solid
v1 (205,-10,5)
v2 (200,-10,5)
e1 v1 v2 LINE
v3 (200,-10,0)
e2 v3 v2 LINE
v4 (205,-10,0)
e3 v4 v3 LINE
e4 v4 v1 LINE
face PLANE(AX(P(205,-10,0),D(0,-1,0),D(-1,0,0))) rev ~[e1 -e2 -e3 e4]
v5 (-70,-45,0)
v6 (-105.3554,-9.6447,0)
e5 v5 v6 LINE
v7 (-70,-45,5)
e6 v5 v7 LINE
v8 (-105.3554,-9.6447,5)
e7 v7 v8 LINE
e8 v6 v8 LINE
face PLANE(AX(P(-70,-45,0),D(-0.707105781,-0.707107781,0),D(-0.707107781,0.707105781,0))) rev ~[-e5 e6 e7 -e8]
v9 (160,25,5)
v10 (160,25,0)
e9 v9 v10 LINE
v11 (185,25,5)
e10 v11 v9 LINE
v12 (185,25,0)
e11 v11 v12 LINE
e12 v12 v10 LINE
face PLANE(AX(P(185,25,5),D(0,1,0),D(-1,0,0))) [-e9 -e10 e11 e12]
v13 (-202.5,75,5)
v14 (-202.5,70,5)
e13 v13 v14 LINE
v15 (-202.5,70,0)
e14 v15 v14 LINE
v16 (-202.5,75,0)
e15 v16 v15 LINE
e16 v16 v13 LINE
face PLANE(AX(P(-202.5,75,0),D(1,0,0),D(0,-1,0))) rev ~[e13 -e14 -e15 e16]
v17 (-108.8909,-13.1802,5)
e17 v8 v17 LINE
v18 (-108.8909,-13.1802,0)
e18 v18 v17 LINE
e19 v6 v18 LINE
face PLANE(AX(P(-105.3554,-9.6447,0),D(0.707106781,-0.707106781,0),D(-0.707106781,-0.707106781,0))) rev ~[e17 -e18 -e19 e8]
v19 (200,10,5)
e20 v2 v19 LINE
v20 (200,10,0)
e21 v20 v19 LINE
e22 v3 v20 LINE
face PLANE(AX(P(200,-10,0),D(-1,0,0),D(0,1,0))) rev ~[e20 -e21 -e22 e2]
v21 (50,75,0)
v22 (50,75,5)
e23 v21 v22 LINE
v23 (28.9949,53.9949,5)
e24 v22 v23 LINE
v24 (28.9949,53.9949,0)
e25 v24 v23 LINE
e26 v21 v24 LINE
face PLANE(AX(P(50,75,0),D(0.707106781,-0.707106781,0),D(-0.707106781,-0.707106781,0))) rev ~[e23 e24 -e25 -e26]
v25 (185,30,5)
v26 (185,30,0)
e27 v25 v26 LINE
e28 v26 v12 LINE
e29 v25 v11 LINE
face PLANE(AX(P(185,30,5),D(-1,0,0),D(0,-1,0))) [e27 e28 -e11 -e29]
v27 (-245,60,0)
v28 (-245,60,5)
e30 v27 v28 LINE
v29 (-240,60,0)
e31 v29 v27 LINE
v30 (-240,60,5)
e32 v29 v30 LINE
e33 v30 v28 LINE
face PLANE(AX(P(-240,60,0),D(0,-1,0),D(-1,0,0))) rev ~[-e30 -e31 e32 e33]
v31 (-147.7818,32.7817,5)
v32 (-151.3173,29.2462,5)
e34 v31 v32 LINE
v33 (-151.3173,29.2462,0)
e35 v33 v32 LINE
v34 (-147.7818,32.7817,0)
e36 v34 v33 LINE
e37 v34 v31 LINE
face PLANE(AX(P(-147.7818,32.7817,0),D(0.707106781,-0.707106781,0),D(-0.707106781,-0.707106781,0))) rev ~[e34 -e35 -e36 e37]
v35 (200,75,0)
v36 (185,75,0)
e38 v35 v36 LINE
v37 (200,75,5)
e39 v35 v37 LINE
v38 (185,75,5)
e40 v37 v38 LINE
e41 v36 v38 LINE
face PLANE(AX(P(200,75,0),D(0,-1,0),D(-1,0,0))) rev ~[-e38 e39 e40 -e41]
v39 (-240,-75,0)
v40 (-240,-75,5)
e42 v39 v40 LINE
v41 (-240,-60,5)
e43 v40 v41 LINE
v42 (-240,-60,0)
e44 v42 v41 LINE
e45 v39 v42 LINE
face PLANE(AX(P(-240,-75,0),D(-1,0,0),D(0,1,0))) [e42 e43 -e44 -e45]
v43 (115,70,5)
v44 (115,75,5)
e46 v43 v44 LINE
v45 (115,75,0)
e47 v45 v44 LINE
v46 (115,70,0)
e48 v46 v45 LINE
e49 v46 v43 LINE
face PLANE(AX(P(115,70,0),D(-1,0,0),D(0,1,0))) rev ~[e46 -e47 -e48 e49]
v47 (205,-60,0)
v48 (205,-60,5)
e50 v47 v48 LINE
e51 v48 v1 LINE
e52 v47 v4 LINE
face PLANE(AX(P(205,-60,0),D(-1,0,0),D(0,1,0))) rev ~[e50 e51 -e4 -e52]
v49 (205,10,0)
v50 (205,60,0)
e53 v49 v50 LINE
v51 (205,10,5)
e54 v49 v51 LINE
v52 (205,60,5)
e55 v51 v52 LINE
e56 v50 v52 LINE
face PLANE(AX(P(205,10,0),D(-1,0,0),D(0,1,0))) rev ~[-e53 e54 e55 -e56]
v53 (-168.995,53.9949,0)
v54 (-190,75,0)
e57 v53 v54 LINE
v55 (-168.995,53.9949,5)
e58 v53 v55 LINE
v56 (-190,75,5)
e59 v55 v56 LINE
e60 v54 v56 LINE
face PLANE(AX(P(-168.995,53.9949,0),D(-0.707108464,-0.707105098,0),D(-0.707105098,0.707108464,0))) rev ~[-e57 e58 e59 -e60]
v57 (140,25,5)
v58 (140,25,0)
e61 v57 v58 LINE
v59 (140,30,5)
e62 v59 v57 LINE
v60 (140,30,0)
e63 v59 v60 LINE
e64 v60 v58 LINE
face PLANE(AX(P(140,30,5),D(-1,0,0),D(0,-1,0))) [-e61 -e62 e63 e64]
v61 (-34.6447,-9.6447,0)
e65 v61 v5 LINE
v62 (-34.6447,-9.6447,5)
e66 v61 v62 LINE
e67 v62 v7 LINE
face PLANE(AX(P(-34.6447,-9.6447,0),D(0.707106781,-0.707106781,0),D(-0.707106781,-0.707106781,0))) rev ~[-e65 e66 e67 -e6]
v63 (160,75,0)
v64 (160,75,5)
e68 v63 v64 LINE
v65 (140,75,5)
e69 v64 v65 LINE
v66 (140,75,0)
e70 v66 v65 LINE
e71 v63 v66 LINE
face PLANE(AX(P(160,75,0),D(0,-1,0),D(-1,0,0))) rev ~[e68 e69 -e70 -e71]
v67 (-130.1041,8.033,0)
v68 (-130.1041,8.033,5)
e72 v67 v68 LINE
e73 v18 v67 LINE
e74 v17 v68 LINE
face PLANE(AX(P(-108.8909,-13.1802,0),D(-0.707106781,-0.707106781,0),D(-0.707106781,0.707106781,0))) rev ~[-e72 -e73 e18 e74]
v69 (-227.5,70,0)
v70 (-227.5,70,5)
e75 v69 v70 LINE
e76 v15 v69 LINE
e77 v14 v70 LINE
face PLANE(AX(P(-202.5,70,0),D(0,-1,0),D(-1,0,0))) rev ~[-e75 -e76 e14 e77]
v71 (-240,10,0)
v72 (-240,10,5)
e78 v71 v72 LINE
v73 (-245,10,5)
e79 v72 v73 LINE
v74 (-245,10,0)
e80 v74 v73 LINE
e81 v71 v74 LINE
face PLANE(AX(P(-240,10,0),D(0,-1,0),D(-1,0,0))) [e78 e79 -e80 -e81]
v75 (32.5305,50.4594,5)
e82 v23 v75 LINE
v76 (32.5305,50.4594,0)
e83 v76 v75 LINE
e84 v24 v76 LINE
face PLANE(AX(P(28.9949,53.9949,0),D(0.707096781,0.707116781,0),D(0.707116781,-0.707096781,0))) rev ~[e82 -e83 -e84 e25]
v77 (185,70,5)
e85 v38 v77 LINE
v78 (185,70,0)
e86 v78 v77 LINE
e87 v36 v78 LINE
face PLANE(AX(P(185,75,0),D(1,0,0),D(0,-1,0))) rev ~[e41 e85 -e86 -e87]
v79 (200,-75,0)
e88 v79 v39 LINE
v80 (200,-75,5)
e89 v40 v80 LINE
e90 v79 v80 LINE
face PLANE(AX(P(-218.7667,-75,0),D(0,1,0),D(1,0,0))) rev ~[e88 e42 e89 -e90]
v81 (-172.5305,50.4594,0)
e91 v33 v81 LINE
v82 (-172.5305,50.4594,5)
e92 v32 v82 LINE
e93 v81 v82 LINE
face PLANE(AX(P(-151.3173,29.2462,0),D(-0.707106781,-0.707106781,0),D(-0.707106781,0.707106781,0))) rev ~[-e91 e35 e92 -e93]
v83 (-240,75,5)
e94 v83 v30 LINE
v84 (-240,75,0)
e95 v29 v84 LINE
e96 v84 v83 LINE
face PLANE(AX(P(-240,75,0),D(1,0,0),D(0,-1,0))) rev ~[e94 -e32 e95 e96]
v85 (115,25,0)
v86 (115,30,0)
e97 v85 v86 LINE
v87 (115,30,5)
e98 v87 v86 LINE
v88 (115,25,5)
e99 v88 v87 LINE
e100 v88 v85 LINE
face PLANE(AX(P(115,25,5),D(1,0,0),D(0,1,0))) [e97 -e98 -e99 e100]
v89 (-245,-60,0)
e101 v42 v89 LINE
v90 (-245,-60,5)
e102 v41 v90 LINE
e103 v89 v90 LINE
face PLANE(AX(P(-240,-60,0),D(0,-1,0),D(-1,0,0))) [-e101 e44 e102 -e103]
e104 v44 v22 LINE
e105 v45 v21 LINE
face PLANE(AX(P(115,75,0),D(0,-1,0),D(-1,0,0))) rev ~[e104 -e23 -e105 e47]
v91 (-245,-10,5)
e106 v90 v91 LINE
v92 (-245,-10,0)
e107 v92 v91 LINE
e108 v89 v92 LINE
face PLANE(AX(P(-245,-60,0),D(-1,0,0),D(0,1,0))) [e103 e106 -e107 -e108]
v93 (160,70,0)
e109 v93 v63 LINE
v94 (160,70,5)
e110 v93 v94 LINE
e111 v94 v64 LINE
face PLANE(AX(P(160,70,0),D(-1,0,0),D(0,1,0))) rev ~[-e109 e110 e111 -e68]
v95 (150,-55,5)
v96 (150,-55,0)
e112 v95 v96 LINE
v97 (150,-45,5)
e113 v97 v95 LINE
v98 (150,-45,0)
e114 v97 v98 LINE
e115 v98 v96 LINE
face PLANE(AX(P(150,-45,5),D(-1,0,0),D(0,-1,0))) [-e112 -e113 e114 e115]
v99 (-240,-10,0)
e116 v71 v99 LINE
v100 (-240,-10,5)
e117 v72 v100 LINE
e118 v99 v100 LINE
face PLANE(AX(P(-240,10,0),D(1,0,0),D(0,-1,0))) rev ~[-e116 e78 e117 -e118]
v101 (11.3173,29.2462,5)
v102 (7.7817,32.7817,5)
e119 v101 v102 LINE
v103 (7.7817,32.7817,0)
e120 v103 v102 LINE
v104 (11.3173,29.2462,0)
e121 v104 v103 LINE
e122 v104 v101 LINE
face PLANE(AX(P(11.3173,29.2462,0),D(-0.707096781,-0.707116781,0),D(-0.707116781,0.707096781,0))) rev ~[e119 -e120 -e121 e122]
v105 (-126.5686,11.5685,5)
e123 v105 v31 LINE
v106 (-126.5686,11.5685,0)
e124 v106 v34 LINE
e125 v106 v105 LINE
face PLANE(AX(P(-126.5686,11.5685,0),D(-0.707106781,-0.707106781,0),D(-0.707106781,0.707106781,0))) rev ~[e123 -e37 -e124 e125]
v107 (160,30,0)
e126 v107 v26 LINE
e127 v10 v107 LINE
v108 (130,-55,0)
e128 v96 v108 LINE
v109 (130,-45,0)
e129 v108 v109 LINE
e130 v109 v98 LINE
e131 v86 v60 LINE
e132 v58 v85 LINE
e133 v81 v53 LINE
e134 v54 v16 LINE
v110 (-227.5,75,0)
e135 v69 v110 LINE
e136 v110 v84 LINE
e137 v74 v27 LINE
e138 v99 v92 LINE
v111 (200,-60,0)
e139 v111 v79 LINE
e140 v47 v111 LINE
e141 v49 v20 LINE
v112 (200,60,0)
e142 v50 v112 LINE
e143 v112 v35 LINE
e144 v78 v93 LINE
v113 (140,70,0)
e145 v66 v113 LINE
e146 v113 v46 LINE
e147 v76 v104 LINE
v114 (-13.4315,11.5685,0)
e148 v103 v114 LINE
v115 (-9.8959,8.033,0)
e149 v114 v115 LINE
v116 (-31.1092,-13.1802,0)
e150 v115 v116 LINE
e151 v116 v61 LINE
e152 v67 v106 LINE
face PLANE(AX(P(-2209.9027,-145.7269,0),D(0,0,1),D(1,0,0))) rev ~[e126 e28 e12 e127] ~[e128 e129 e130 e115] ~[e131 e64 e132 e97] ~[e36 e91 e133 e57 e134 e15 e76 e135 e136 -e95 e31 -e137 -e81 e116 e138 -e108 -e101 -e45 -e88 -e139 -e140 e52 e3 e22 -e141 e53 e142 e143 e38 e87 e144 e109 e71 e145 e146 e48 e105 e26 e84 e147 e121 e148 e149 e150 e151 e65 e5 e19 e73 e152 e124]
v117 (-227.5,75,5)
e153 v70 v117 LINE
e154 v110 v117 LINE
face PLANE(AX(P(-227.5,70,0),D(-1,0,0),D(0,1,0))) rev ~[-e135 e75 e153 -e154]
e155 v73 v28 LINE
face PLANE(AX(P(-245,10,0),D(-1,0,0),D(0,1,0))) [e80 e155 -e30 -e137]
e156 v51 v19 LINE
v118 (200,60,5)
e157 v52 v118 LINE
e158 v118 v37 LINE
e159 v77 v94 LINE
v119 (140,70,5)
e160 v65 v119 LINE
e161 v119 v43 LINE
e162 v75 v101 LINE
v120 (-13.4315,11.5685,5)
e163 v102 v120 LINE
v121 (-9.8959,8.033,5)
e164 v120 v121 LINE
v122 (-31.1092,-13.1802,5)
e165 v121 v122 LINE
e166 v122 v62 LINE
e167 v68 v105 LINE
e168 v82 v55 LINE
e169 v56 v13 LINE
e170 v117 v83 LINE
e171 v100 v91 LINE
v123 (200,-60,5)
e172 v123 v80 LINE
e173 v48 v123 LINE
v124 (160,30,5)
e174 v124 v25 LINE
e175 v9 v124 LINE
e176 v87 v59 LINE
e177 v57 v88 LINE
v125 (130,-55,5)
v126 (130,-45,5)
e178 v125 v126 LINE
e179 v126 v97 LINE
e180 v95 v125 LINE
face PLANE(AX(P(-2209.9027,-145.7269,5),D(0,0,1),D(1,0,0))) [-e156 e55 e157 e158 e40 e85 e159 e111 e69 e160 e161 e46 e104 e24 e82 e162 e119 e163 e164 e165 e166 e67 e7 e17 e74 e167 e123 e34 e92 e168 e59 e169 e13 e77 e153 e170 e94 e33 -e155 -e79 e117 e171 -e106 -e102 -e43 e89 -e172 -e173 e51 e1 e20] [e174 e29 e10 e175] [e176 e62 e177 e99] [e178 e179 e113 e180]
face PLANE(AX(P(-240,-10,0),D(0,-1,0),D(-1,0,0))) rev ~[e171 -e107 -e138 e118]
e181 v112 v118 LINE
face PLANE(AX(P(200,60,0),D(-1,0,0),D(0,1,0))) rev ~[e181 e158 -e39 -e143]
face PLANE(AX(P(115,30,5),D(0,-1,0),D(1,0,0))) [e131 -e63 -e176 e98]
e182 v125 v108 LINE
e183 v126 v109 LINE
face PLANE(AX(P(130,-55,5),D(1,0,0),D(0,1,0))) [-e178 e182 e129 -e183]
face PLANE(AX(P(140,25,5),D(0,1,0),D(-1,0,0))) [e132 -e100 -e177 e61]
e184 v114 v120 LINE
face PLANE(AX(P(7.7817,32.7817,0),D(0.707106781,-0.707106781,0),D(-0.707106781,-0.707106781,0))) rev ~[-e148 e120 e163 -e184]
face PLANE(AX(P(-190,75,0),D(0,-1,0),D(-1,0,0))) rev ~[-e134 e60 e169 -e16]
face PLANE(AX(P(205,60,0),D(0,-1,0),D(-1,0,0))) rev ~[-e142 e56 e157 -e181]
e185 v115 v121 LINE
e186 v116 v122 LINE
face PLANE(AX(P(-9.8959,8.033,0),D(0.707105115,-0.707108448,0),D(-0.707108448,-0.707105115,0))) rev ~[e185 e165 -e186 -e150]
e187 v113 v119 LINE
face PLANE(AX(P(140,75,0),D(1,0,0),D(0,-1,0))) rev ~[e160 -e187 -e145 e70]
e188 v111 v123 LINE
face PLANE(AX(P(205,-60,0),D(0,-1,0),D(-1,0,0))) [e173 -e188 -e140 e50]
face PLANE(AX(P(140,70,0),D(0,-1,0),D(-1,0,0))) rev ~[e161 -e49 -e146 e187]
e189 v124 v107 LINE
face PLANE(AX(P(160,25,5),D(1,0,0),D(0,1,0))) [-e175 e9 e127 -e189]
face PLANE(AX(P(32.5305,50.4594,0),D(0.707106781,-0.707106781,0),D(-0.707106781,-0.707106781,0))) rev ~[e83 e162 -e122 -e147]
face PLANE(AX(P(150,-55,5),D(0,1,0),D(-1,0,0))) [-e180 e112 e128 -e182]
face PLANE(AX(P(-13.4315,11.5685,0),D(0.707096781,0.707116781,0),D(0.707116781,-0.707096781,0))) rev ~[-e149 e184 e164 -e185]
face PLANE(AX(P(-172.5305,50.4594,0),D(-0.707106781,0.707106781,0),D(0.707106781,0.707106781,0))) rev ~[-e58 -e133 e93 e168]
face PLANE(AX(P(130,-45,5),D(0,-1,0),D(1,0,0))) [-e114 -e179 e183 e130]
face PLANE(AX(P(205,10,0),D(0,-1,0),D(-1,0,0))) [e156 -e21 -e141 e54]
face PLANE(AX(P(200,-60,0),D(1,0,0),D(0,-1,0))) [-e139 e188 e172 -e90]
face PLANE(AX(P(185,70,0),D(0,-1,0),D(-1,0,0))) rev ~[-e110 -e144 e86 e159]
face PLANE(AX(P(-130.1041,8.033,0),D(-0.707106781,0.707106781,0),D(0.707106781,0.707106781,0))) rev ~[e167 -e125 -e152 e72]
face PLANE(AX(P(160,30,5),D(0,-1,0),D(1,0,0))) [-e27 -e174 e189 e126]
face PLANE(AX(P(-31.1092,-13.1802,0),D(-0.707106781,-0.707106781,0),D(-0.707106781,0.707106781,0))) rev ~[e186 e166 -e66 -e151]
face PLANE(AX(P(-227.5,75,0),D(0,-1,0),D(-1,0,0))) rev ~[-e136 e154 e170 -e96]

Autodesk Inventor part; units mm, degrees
ref_plane "YZ Plane" through (0, 0, 0) normal (1, 0, 0) x (0, 1, 0)
ref_plane "XZ Plane" through (0, 0, 0) normal (0, 1, 0) x (-1, 0, 0)
ref_plane "XY Plane" through (0, 0, 0) normal (0, 0, 1) x (1, 0, 0)
ref_plane "Work Plane1" through (-2209.9027, -145.7269, 0) normal (0, 0, 1) x (1, 0, 0)
sketch "Sketch1" plane through (-2209.9027, -145.7269, 0) normal (0, 0, 1) x (1, 0, 0)
  line L0 (1984.9027, 125.3224) -> (1984.9027, 70.7269) projected
  line L1 (1984.9027, 70.7269) -> (2394.9027, 70.7269) projected
  line L2 (2394.9027, 70.7269) -> (2394.9027, 125.3224) projected
  line L3 (2394.9027, 125.3224) -> (2409.9027, 125.3224) projected
  line L4 (2409.9027, 125.3224) -> (2409.9027, 220.7269) projected
  line L5 (2409.9027, 220.7269) -> (2394.9027, 220.7269) projected
  line L6 (1969.9027, 220.7269) -> (1969.9027, 125.3224) projected
  line L7 (1969.9027, 125.3224) -> (1984.9027, 125.3224) projected
  line L8 (1969.9027, 155.7269) -> (1969.9027, 205.7269) projected
  line L9 (1969.9027, 205.7269) -> (1964.9027, 205.7269) projected
  line L10 (1964.9027, 155.7269) -> (1964.9027, 205.7269) projected
  line L11 (1969.9027, 155.7269) -> (1964.9027, 155.7269) projected
  line L12 (1969.9027, 85.7269) -> (1969.9027, 135.7269) projected
  line L13 (1969.9027, 135.7269) -> (1964.9027, 135.7269) projected
  line L14 (1964.9027, 85.7269) -> (1964.9027, 135.7269) projected
  line L15 (1969.9027, 85.7269) -> (1964.9027, 85.7269) projected
  line L16 (1964.9027, 155.7269) -> (1969.9027, 155.7269)
  line L17 (1969.9027, 155.7269) -> (1969.9027, 135.7269)
  line L18 (1969.9027, 135.7269) -> (1964.9027, 135.7269)
  line L19 (1964.9027, 135.7269) -> (1964.9027, 155.7269)
  line L20 (1991.136, 206.6179) -> (1964.9027, 206.6179)
  line L21 (1964.9027, 206.6179) -> (1964.9027, 205.7269)
  line L22 (1964.9027, 205.7269) -> (1991.136, 205.7269)
  line L23 (1991.136, 205.7269) -> (1991.136, 206.6179)
  line L24 (1964.9027, 85.7269) -> (1991.136, 85.7269)
  line L25 (1991.136, 85.7269) -> (1991.136, 70.7269)
  line L26 (1991.136, 70.7269) -> (1964.9027, 70.7269)
  line L27 (1964.9027, 70.7269) -> (1964.9027, 85.7269)
  line L28 (1984.9027, 70.7269) -> (1969.9027, 70.7269)
  line L29 (1969.9027, 70.7269) -> (1969.9027, 125.3224)
  line L30 (1969.9027, 125.3224) -> (1984.9027, 125.3224)
  line L31 (1984.9027, 125.3224) -> (1984.9027, 70.7269)
  line L32 (2414.9027, 155.7269) -> (2414.9027, 205.7269) projected
  line L33 (2414.9027, 205.7269) -> (2409.9027, 205.7269) projected
  line L34 (2409.9027, 155.7269) -> (2409.9027, 205.7269) projected
  line L35 (2414.9027, 155.7269) -> (2409.9027, 155.7269) projected
  line L36 (2414.9027, 85.7269) -> (2414.9027, 135.7269) projected
  line L37 (2414.9027, 135.7269) -> (2409.9027, 135.7269) projected
  line L38 (2409.9027, 85.7269) -> (2409.9027, 135.7269) projected
  line L39 (2414.9027, 85.7269) -> (2409.9027, 85.7269) projected
  line L40 (2409.9027, 70.7269) -> (2394.9027, 70.7269)
  line L41 (2394.9027, 70.7269) -> (2394.9027, 125.3224)
  line L42 (2394.9027, 125.3224) -> (2409.9027, 125.3224)
  line L43 (2409.9027, 125.3224) -> (2409.9027, 70.7269)
  line L44 (2259.9027, 220.7269) -> (2238.8976, 199.7218) projected
  line L45 (2139.9027, 100.7269) -> (2104.5473, 136.0822) projected
  line L46 (2019.9027, 220.7269) -> (2007.4027, 220.7269) projected
  line L47 (2178.7935, 132.5467) -> (2175.258, 136.0822) projected
  line L48 (2104.5473, 136.0822) -> (2101.0118, 132.5467) projected
  line L49 (2101.0118, 132.5467) -> (2079.7986, 153.7599) projected
  line L50 (2079.7986, 153.7599) -> (2083.3341, 157.2954) projected
  line L51 (2083.3341, 157.2954) -> (2062.1209, 178.5086) projected
  line L52 (2062.1209, 178.5086) -> (2058.5854, 174.9731) projected
  line L53 (2058.5854, 174.9731) -> (2037.3722, 196.1863) projected
  line L54 (2037.3722, 196.1863) -> (2040.9077, 199.7218) projected
  line L55 (2238.8976, 199.7218) -> (2242.4332, 196.1863) projected
  line L56 (2242.4332, 196.1863) -> (2221.22, 174.9731) projected
  line L57 (2221.22, 174.9731) -> (2217.6844, 178.5086) projected
  line L58 (2217.6844, 178.5086) -> (2196.4712, 157.2954) projected
  line L59 (2196.4712, 157.2954) -> (2200.0068, 153.7599) projected
  line L60 (2200.0068, 153.7599) -> (2178.7935, 132.5467) projected
  line L61 (2369.9027, 215.7269) -> (2369.9027, 220.7269) projected
  line L62 (2369.9027, 220.7269) -> (2349.9027, 220.7269) projected
  line L63 (2349.9027, 220.7269) -> (2349.9027, 215.7269) projected
  line L64 (2349.9027, 215.7269) -> (2324.9027, 215.7269) projected
  line L65 (2324.9027, 215.7269) -> (2324.9027, 220.7269) projected
  line L66 (2007.4027, 220.7269) -> (2007.4027, 215.7269) projected
  line L67 (2007.4027, 215.7269) -> (1982.4027, 215.7269) projected
  line L68 (1982.4027, 215.7269) -> (1982.4027, 220.7269) projected
  line L69 (2394.9027, 220.7269) -> (2394.9027, 215.7269) projected
  line L70 (2394.9027, 215.7269) -> (2369.9027, 215.7269) projected
  line L71 (2324.9027, 220.7269) -> (2259.9027, 220.7269) projected
  line L72 (2175.258, 136.0822) -> (2139.9027, 100.7269) projected
  line L73 (2040.9077, 199.7218) -> (2019.9027, 220.7269) projected
  line L74 (1982.4027, 220.7269) -> (1969.9027, 220.7269) projected
  point P0 (2209.9027, 145.7269)
  point P1 (1991.136, 21.6179)
  point P2 (1991.136, 6.6179)
  point P3 (1969.9027, 85.7269)
  point P4 (820.3787, 21.6179)
  point P5 (1320.3787, 21.6179)
  point P6 (820.3787, 20.4045)
  point P7 (1984.9027, 70.7269)
  point P8 (1305.3787, -34.1911)
  point P9 (820.3787, 21.6179)
  point P10 (2409.9027, 125.3224)
  point P11 (2394.9027, 70.7269)
  point P12 (1969.9027, 206.6179)
extrude "Extrusion1" add sketch "Sketch1" along normal blind 5 contours L7 L6 L22 L23 L20 L74 L68 L67 L66 L46 L73 L54 L53 L52 L51 L50 L49 L48 L45 L72 L47 L60 L59 L58 L57 L56 L55 L44 L71 L65 L64 L63 L62 L61 L70 L69 L5 L4 L3 L2 L1 L25 L24 L0 | L0 L24 L12 L7 | L24 L25 L1 L0 | L0 L26 L29 L24 | L12 L15 L14 L13 L6 | L11 L10 L9 L6 | L2 L3 L38 L43 L40 | L6 L20 L23 L22 | L4 L37 L36 L39 L38 | L4 L33 L32 L35
sketch "Sketch3" plane through (-2209.9027, -145.7269, 5) normal (0, 0, 1) x (1, 0, 0)
  point P0 (2209.9027, 145.7269)
sketch "Sketch4" plane through (-2209.9027, -145.7269, 5) normal (0, 0, 1) x (1, 0, 0)
  line L0 (2324.9027, 175.7269) -> (2349.9027, 175.7269)
  line L1 (2349.9027, 175.7269) -> (2349.9027, 170.7269)
  line L2 (2349.9027, 170.7269) -> (2324.9027, 170.7269)
  line L3 (2324.9027, 170.7269) -> (2324.9027, 175.7269)
  line L4 (1969.9027, 220.7269) -> (1969.9027, 205.7269) projected
  line L5 (1969.9027, 155.7269) -> (1969.9027, 135.7269) projected
  line L6 (1969.9027, 135.7269) -> (1964.9027, 135.7269) projected
  line L7 (1964.9027, 135.7269) -> (1964.9027, 85.7269) projected
  line L8 (1969.9027, 70.7269) -> (2409.9027, 70.7269) projected
  line L9 (2409.9027, 85.7269) -> (2414.9027, 85.7269) projected
  line L10 (2414.9027, 85.7269) -> (2414.9027, 135.7269) projected
  line L11 (2414.9027, 135.7269) -> (2409.9027, 135.7269) projected
  line L12 (2409.9027, 135.7269) -> (2409.9027, 155.7269) projected
  line L13 (2409.9027, 155.7269) -> (2414.9027, 155.7269) projected
  line L14 (2414.9027, 155.7269) -> (2414.9027, 205.7269) projected
  line L15 (2414.9027, 205.7269) -> (2409.9027, 205.7269) projected
  line L16 (2409.9027, 205.7269) -> (2409.9027, 220.7269) projected
  line L17 (2409.9027, 220.7269) -> (2394.9027, 220.7269) projected
  line L18 (2369.9027, 175.7269) -> (2394.9027, 175.7269)
  line L19 (2394.9027, 175.7269) -> (2394.9027, 170.7269)
  line L20 (2394.9027, 170.7269) -> (2369.9027, 170.7269)
  line L21 (2369.9027, 170.7269) -> (2369.9027, 175.7269)
  line L22 (2259.9027, 220.7269) -> (2238.8976, 199.7218) projected
  line L23 (2139.9027, 100.7269) -> (2104.5473, 136.0822) projected
  line L24 (2019.9027, 220.7269) -> (2007.4027, 220.7269) projected
  line L25 (1964.9027, 85.7269) -> (1969.9027, 85.7269) projected
  line L26 (2409.9027, 70.7269) -> (2409.9027, 85.7269) projected
  line L27 (1969.9027, 85.7269) -> (1969.9027, 70.7269) projected
  line L28 (1964.9027, 205.7269) -> (1964.9027, 155.7269) projected
  line L29 (1964.9027, 155.7269) -> (1969.9027, 155.7269) projected
  line L30 (2238.8976, 199.7218) -> (2242.4332, 196.1863) projected
  line L31 (2242.4332, 196.1863) -> (2221.22, 174.9731) projected
  line L32 (2221.22, 174.9731) -> (2217.6844, 178.5086) projected
  line L33 (2217.6844, 178.5086) -> (2196.4712, 157.2954) projected
  line L34 (2196.4712, 157.2954) -> (2200.0068, 153.7599) projected
  line L35 (2200.0068, 153.7599) -> (2178.7935, 132.5467) projected
  line L36 (2178.7935, 132.5467) -> (2175.258, 136.0822) projected
  line L37 (2104.5473, 136.0822) -> (2101.0118, 132.5467) projected
  line L38 (2101.0118, 132.5467) -> (2079.7986, 153.7599) projected
  line L39 (2079.7986, 153.7599) -> (2083.3341, 157.2954) projected
  line L40 (2083.3341, 157.2954) -> (2062.1209, 178.5086) projected
  line L41 (2062.1209, 178.5086) -> (2058.5854, 174.9731) projected
  line L42 (2058.5854, 174.9731) -> (2037.3722, 196.1863) projected
  line L43 (2037.3722, 196.1863) -> (2040.9077, 199.7218) projected
  line L44 (2394.9027, 220.7269) -> (2394.9027, 215.7269) projected
  line L45 (2394.9027, 215.7269) -> (2369.9027, 215.7269) projected
  line L46 (2369.9027, 215.7269) -> (2369.9027, 220.7269) projected
  line L47 (2369.9027, 220.7269) -> (2349.9027, 220.7269) projected
  line L48 (2349.9027, 220.7269) -> (2349.9027, 215.7269) projected
  line L49 (2349.9027, 215.7269) -> (2324.9027, 215.7269) projected
  line L50 (2324.9027, 215.7269) -> (2324.9027, 220.7269) projected
  line L51 (2007.4027, 220.7269) -> (2007.4027, 215.7269) projected
  line L52 (2007.4027, 215.7269) -> (1982.4027, 215.7269) projected
  line L53 (1982.4027, 215.7269) -> (1982.4027, 220.7269) projected
  line L54 (2324.9027, 220.7269) -> (2259.9027, 220.7269) projected
  line L55 (2175.258, 136.0822) -> (2139.9027, 100.7269) projected
  line L56 (2040.9077, 199.7218) -> (2019.9027, 220.7269) projected
  line L57 (1982.4027, 220.7269) -> (1969.9027, 220.7269) projected
  line L58 (1969.9027, 205.7269) -> (1964.9027, 205.7269) projected
  point P0 (2209.9027, 145.7269)
  dimension "d16" = 25
  dimension "d17" = 5
  dimension "d18" = 100
  dimension "d19" = 25
  dimension "d20" = 5
  dimension "d22" = 15
  dimension "d25" = 20
extrude "Extrusion3" cut sketch "Sketch4" against normal blind 5 contours L0 L1 L2 L3 | L18 L19 L20 L21
sketch "Sketch5" plane through (-2209.9027, -145.7269, 5) normal (0, 0, 1) x (1, 0, 0)
  point P0 (2209.9027, 145.7269)
sketch "Sketch6" plane through (-2209.9027, -145.7269, 5) normal (0, 0, 1) x (1, 0, 0)
  line L0 (2394.9027, 175.7269) -> (2394.9027, 170.7269) projected
  line L1 (2394.9027, 170.7269) -> (2369.9027, 170.7269) projected
  line L2 (2369.9027, 170.7269) -> (2369.9027, 175.7269) projected
  line L3 (2369.9027, 175.7269) -> (2394.9027, 175.7269) projected
  line L4 (2349.9027, 175.7269) -> (2349.9027, 170.7269) projected
  line L5 (2349.9027, 170.7269) -> (2324.9027, 170.7269) projected
  line L6 (2324.9027, 170.7269) -> (2324.9027, 175.7269) projected
  line L7 (2324.9027, 175.7269) -> (2349.9027, 175.7269) projected
  line L8 (1964.9027, 85.7269) -> (1969.9027, 85.7269) projected
  line L9 (1969.9027, 85.7269) -> (1969.9027, 70.7269) projected
  line L10 (1969.9027, 70.7269) -> (2409.9027, 70.7269) projected
  line L11 (2409.9027, 70.7269) -> (2409.9027, 85.7269) projected
  line L12 (2409.9027, 85.7269) -> (2414.9027, 85.7269) projected
  line L13 (2414.9027, 85.7269) -> (2414.9027, 135.7269) projected
  line L14 (2414.9027, 135.7269) -> (2409.9027, 135.7269) projected
  line L15 (2409.9027, 135.7269) -> (2409.9027, 155.7269) projected
  line L16 (2409.9027, 155.7269) -> (2414.9027, 155.7269) projected
  line L17 (2414.9027, 155.7269) -> (2414.9027, 205.7269) projected
  line L18 (2414.9027, 205.7269) -> (2409.9027, 205.7269) projected
  line L19 (2409.9027, 205.7269) -> (2409.9027, 220.7269) projected
  line L20 (2409.9027, 220.7269) -> (2394.9027, 220.7269) projected
  line L21 (2394.9027, 220.7269) -> (2394.9027, 215.7269) projected
  line L22 (2394.9027, 215.7269) -> (2369.9027, 215.7269) projected
  line L23 (2369.9027, 215.7269) -> (2369.9027, 220.7269) projected
  line L24 (2369.9027, 220.7269) -> (2349.9027, 220.7269) projected
  line L25 (2349.9027, 220.7269) -> (2349.9027, 215.7269) projected
  line L26 (2349.9027, 215.7269) -> (2324.9027, 215.7269) projected
  line L27 (2324.9027, 215.7269) -> (2324.9027, 220.7269) projected
  line L28 (2259.9027, 220.7269) -> (2238.8976, 199.7218) projected
  line L29 (2238.8976, 199.7218) -> (2242.4332, 196.1863) projected
  line L30 (2242.4332, 196.1863) -> (2221.22, 174.9731) projected
  line L31 (2221.22, 174.9731) -> (2217.6844, 178.5086) projected
  line L32 (2217.6844, 178.5086) -> (2196.4712, 157.2954) projected
  line L33 (2196.4712, 157.2954) -> (2200.0068, 153.7599) projected
  line L34 (2200.0068, 153.7599) -> (2178.7935, 132.5467) projected
  line L35 (2178.7935, 132.5467) -> (2175.258, 136.0822) projected
  line L36 (2139.9027, 100.7269) -> (2104.5473, 136.0822) projected
  line L37 (2104.5473, 136.0822) -> (2101.0118, 132.5467) projected
  line L38 (2101.0118, 132.5467) -> (2079.7986, 153.7599) projected
  line L39 (2079.7986, 153.7599) -> (2083.3341, 157.2954) projected
  line L40 (2083.3341, 157.2954) -> (2062.1209, 178.5086) projected
  line L41 (2062.1209, 178.5086) -> (2058.5854, 174.9731) projected
  line L42 (2058.5854, 174.9731) -> (2037.3722, 196.1863) projected
  line L43 (2037.3722, 196.1863) -> (2040.9077, 199.7218) projected
  line L44 (2019.9027, 220.7269) -> (2007.4027, 220.7269) projected
  line L45 (2007.4027, 220.7269) -> (2007.4027, 215.7269) projected
  line L46 (2007.4027, 215.7269) -> (1982.4027, 215.7269) projected
  line L47 (1982.4027, 215.7269) -> (1982.4027, 220.7269) projected
  line L48 (1969.9027, 220.7269) -> (1969.9027, 205.7269) projected
  line L49 (1964.9027, 205.7269) -> (1964.9027, 155.7269) projected
  line L50 (1964.9027, 155.7269) -> (1969.9027, 155.7269) projected
  line L51 (1969.9027, 155.7269) -> (1969.9027, 135.7269) projected
  line L52 (1969.9027, 135.7269) -> (1964.9027, 135.7269) projected
  line L53 (1964.9027, 135.7269) -> (1964.9027, 85.7269) projected
  line L54 (2339.9027, 100.7269) -> (2359.9027, 100.7269)
  line L55 (2359.9027, 100.7269) -> (2359.9027, 90.7269)
  line L56 (2359.9027, 90.7269) -> (2339.9027, 90.7269)
  line L57 (2339.9027, 90.7269) -> (2339.9027, 100.7269)
  line L58 (2324.9027, 220.7269) -> (2259.9027, 220.7269) projected
  line L59 (2175.258, 136.0822) -> (2139.9027, 100.7269) projected
  line L60 (2040.9077, 199.7218) -> (2019.9027, 220.7269) projected
  line L61 (1982.4027, 220.7269) -> (1969.9027, 220.7269) projected
  line L62 (1969.9027, 205.7269) -> (1964.9027, 205.7269) projected
  point P0 (2209.9027, 145.7269)
  dimension "d26" = 20
  dimension "d27" = 10
  dimension "d28" = 20
  dimension "d29" = 50
extrude "Extrusion4" cut sketch "Sketch6" against normal blind 10 contours L54 L55 L56 L57
equation "\"d19\" = d16"
properties part number "Frontal"
